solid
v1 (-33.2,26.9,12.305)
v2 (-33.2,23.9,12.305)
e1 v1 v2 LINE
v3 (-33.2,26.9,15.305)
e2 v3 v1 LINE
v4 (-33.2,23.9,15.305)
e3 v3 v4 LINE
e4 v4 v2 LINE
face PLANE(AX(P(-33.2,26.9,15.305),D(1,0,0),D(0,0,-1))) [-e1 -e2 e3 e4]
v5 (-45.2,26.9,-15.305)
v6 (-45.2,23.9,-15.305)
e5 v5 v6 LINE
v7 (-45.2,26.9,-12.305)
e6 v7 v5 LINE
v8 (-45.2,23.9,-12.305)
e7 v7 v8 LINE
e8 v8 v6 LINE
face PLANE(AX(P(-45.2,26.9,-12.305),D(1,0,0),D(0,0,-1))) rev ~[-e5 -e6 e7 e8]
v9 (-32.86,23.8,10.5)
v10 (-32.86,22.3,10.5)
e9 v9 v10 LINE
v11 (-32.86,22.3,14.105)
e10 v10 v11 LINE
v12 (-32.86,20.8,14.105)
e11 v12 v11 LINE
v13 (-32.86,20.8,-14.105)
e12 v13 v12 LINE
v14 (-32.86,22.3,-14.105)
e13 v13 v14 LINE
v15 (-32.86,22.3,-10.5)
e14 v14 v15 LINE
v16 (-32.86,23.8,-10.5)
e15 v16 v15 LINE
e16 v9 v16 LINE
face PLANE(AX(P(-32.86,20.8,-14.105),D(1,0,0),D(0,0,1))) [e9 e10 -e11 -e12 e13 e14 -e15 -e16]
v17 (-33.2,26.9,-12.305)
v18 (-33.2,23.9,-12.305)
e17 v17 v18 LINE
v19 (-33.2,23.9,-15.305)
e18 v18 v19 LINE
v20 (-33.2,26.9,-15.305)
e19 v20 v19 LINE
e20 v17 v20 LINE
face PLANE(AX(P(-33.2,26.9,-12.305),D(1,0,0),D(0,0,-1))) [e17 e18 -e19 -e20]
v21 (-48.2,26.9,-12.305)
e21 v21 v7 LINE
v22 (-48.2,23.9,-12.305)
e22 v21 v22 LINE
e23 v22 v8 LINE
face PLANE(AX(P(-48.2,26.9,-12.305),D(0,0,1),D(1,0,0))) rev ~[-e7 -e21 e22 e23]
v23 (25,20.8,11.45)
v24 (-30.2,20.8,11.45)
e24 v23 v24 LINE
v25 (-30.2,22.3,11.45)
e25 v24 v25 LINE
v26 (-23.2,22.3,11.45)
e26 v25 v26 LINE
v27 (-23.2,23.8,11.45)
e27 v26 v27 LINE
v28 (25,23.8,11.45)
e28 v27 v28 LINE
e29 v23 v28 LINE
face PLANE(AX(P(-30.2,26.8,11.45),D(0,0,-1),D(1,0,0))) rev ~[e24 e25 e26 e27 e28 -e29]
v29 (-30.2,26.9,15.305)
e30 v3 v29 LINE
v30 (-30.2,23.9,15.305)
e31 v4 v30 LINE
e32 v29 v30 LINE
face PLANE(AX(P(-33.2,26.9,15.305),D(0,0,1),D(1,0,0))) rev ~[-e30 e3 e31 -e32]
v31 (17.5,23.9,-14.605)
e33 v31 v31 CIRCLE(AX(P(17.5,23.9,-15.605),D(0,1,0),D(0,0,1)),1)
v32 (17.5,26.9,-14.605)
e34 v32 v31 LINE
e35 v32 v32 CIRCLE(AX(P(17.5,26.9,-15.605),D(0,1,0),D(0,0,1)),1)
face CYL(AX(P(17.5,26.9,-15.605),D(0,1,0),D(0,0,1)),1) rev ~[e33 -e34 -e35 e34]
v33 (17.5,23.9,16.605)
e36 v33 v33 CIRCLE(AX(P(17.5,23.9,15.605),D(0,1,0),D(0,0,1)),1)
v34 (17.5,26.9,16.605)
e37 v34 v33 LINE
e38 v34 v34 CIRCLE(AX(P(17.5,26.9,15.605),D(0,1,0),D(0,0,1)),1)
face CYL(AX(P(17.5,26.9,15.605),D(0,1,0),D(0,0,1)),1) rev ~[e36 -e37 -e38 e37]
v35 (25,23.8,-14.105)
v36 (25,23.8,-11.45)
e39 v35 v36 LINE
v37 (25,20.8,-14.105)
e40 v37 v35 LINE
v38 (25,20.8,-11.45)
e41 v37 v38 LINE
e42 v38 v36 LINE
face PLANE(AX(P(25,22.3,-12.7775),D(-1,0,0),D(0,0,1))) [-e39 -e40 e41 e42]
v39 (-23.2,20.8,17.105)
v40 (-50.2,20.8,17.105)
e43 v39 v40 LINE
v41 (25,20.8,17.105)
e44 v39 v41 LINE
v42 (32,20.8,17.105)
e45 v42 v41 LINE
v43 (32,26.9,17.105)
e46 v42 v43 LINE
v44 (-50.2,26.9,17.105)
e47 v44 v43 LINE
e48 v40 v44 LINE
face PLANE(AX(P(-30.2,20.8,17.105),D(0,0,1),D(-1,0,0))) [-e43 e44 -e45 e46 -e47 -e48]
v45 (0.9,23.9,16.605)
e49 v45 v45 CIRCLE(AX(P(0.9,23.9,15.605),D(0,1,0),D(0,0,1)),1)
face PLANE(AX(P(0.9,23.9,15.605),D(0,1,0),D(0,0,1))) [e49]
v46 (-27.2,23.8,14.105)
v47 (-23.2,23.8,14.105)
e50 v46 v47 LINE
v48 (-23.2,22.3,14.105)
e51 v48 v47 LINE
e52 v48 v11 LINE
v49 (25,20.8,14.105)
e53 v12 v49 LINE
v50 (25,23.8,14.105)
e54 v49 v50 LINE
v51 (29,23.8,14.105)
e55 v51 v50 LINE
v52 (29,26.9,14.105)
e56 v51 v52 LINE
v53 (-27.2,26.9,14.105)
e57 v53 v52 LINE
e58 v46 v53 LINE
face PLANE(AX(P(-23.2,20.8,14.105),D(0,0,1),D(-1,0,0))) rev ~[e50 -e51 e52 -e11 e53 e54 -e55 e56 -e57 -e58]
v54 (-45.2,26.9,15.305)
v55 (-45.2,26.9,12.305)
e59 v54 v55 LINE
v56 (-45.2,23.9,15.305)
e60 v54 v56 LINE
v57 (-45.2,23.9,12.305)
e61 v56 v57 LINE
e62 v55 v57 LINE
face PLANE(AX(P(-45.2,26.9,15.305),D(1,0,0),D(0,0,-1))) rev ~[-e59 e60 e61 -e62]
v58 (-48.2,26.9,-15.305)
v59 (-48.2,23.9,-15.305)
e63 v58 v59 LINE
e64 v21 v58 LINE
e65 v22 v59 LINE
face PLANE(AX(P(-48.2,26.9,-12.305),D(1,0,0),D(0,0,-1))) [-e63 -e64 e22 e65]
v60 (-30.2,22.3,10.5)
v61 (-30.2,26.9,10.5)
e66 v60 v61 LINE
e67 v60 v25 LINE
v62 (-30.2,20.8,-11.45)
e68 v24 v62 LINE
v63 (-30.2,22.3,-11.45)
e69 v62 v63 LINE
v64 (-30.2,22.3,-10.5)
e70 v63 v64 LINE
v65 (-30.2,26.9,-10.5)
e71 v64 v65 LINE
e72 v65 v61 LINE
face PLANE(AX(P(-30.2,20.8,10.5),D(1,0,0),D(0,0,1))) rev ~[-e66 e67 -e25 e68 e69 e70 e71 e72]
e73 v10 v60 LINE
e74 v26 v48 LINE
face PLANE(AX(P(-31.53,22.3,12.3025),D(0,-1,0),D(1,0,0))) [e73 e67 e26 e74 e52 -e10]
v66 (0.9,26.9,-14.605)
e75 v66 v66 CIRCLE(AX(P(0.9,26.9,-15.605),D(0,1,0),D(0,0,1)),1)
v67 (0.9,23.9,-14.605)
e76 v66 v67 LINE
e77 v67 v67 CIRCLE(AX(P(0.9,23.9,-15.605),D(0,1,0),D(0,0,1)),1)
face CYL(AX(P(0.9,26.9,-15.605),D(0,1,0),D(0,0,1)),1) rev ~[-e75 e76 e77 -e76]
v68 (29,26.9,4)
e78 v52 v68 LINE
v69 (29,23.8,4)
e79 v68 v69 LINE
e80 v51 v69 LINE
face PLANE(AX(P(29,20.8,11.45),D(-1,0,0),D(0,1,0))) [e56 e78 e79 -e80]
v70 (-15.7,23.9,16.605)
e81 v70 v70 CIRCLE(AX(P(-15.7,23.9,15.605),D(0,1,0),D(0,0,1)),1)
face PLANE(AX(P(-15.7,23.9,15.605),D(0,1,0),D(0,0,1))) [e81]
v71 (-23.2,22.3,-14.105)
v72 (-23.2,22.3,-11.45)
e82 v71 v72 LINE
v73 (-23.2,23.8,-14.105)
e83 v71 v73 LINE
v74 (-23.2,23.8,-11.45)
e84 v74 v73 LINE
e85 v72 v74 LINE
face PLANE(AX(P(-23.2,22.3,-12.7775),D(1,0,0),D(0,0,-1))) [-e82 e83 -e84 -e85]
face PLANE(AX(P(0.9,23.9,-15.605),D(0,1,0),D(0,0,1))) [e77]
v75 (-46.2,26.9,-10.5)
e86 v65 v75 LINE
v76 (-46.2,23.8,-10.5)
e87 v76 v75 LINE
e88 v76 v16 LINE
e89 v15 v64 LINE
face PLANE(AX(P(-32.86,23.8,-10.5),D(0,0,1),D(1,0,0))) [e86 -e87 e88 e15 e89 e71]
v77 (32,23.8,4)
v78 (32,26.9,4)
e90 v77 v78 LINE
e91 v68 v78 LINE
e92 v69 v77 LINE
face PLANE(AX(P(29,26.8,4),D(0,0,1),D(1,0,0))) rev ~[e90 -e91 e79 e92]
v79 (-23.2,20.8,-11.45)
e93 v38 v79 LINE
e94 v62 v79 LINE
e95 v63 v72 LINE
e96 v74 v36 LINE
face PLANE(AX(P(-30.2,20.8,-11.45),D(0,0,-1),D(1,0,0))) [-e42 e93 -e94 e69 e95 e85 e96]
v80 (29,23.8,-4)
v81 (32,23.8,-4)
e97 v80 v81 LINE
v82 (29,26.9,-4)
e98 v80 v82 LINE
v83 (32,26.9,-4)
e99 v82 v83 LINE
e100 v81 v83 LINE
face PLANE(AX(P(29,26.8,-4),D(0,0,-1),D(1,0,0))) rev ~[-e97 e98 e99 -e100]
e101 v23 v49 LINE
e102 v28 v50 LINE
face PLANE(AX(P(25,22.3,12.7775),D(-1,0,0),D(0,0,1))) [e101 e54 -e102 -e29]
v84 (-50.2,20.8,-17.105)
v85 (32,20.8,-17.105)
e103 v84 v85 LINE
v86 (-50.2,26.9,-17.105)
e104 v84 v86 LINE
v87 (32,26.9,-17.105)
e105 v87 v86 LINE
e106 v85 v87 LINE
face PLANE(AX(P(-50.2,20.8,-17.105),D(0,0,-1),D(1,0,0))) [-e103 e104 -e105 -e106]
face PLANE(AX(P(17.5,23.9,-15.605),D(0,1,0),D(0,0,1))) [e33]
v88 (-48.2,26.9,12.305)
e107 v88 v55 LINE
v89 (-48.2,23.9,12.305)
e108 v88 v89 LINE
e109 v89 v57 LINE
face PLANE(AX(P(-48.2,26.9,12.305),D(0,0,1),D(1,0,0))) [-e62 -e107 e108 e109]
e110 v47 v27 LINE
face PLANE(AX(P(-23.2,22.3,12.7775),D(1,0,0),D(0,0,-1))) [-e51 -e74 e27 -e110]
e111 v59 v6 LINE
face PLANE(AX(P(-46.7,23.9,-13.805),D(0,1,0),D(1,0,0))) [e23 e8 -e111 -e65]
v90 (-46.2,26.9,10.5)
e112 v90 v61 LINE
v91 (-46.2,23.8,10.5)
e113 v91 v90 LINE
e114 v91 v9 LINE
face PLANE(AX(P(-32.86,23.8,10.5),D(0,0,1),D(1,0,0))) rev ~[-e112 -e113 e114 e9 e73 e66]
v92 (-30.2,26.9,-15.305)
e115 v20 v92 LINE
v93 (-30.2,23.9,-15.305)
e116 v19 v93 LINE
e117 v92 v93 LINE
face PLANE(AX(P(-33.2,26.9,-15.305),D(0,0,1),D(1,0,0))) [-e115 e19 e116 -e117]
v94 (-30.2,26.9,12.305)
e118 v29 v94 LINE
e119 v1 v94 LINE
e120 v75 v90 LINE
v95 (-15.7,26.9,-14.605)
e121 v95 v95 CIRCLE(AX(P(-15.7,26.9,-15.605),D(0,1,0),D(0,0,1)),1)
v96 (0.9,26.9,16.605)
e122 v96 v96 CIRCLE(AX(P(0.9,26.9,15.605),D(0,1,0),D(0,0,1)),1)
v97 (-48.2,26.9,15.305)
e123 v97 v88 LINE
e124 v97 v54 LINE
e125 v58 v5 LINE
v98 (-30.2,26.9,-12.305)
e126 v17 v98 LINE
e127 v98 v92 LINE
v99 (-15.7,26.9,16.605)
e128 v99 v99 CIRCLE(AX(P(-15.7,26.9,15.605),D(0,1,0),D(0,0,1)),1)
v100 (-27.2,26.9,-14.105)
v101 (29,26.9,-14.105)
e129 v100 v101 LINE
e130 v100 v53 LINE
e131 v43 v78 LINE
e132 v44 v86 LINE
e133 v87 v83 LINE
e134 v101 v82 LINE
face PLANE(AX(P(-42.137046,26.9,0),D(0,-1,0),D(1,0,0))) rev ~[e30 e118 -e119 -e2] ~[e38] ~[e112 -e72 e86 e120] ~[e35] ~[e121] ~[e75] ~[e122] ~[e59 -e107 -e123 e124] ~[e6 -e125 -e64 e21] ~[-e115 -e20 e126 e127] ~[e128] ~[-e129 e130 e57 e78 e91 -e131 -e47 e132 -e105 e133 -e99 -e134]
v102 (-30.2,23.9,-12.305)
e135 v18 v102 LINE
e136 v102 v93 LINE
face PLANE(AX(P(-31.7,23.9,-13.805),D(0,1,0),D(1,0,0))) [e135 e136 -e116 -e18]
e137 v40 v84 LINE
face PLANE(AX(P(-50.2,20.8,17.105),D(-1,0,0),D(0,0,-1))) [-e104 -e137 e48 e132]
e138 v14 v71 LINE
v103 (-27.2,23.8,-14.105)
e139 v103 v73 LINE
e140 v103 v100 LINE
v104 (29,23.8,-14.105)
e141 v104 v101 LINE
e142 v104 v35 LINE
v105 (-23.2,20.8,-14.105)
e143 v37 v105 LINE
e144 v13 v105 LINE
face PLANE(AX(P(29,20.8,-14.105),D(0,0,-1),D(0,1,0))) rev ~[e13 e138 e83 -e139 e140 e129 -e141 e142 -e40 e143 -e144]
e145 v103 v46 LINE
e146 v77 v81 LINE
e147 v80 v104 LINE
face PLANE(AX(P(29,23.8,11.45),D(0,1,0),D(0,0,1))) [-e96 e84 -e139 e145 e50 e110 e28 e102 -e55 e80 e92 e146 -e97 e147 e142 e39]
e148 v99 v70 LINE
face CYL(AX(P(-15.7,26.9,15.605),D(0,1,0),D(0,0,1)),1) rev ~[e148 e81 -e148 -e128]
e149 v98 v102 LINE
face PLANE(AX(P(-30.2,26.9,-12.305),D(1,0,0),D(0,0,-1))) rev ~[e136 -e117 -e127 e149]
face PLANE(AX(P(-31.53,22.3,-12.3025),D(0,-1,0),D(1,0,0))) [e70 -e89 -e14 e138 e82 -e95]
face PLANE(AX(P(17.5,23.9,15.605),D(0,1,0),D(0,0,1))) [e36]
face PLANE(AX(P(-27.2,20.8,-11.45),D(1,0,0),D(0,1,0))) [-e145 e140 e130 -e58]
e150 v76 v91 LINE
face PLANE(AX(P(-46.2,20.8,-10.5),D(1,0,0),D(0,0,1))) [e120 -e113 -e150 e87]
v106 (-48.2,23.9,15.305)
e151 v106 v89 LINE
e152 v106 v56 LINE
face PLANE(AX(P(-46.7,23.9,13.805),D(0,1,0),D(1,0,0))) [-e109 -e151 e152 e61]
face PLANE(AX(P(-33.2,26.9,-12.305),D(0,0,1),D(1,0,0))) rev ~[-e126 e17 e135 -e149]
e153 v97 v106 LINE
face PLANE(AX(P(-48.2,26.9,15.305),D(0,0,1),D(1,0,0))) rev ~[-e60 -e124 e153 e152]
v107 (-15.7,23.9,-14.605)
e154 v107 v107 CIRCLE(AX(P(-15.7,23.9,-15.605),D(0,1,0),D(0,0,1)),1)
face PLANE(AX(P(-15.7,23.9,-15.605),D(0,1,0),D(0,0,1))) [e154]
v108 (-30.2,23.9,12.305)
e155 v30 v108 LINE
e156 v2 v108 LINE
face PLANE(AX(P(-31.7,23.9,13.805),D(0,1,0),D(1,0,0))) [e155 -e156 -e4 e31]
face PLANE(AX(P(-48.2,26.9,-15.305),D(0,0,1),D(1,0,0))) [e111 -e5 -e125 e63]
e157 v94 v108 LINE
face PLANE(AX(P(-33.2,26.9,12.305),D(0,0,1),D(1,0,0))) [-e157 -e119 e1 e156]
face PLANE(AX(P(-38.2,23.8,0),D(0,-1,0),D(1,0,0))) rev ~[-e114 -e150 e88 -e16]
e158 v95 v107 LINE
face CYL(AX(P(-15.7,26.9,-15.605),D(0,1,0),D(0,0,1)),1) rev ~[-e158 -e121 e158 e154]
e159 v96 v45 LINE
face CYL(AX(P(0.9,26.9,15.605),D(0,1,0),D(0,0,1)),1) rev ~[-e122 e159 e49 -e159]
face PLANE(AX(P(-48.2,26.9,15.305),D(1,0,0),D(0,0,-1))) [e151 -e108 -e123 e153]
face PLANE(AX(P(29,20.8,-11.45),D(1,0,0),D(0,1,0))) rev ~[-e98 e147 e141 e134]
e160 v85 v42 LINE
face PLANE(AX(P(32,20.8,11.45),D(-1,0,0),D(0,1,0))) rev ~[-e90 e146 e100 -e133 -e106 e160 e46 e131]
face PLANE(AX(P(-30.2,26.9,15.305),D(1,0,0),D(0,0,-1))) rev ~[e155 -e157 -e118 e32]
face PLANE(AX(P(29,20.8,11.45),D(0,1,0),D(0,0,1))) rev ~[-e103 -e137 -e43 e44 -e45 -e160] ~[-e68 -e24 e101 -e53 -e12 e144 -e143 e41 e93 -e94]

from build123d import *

# Parameters (mm, degrees)
SKETCH1_W            = 46.4
SKETCH1_H            = 24.75
BOSS_EXTRUDE1_DEPTH  = 5.9
BOSS_EXTRUDE2_DEPTH  = 2.5
SKETCH3_W            = 50
SKETCH3_H            = 50
BOSS_EXTRUDE3_DEPTH  = 2.5
SKETCH4_W            = 46.4
SKETCH4_H            = 0.93
BOSS_EXTRUDE4_DEPTH  = 5.9
SKETCH5_W            = 46.4
SKETCH5_H            = 0.93
BOSS_EXTRUDE5_DEPTH  = 5.9
SKETCH6_W            = 46.4
SKETCH6_H            = 3
BOSS_EXTRUDE6_DEPTH  = 8.4
SKETCH7_W            = 46.4
SKETCH7_H            = 3
BOSS_EXTRUDE7_DEPTH  = 8.4
SKETCH8_W            = 46.4
SKETCH8_H            = 22.9
BOSS_EXTRUDE8_DEPTH  = 8.4
SKETCH9_W            = 46.4
SKETCH9_H            = 3
BOSS_EXTRUDE9_DEPTH  = 8.4
SKETCH10_W           = 22.9
SKETCH10_H           = 10.9
BOSS_EXTRUDE10_DEPTH = 1.8
SKETCH11_W           = 0.93
SKETCH11_H           = 5.9
BOSS_EXTRUDE11_DEPTH = 1.8
SKETCH12_W           = 32.7
SKETCH12_H           = 0.925
SKETCH12_H_2         = 0.93
BOSS_EXTRUDE12_DEPTH = 8.4
SKETCH13_W           = 0.93
SKETCH13_H           = 5.9
BOSS_EXTRUDE13_DEPTH = 1.8
SKETCH14_W           = 48.2
SKETCH14_H           = 3
BOSS_EXTRUDE14_DEPTH = 8.4
SKETCH15_W           = 32.7
SKETCH15_H           = 0.93
SKETCH15_H_2         = 0.925
BOSS_EXTRUDE15_DEPTH = 8.4
SKETCH16_W           = 0.35
SKETCH16_H           = 5.9
CUT_EXTRUDE1_DEPTH   = 59.371568422
SKETCH18_W           = 0.35
SKETCH18_H           = 5.9
CUT_EXTRUDE2_DEPTH   = 59.371568422
SKETCH20_W           = 22.9
SKETCH20_H           = 2.5
BOSS_EXTRUDE17_DEPTH = 4
SKETCH22_W           = 22.9
SKETCH22_H           = 2.5
BOSS_EXTRUDE19_DEPTH = 3
SKETCH23_W           = 3
SKETCH23_H           = 22.9
BOSS_EXTRUDE20_DEPTH = 1.5
SKETCH24_W           = 22.9
SKETCH24_H           = 2.5
BOSS_EXTRUDE21_DEPTH = 7
SKETCH25_W           = 3
SKETCH25_H           = 22.9
BOSS_EXTRUDE22_DEPTH = 3
SKETCH27_W           = 48.2
SKETCH27_H           = 3
BOSS_EXTRUDE23_DEPTH = 7
SKETCH28_W           = 56.2
SKETCH28_H           = 22.9
BOSS_EXTRUDE24_DEPTH = 7
SKETCH29_W           = 3
SKETCH29_H           = 22.9
BOSS_EXTRUDE25_DEPTH = 7
SKETCH30_W           = 3
SKETCH30_H           = 22.9
BOSS_EXTRUDE26_DEPTH = 7
SKETCH31_W           = 7
SKETCH31_H           = 6.5
CUT_EXTRUDE3_DEPTH   = 56.415182938
SKETCH32_W           = 7
SKETCH32_H           = 6.5
CUT_EXTRUDE4_DEPTH   = 56.415182938
SKETCH33_W           = 2.66
SKETCH33_H           = 2.66
CUT_EXTRUDE5_DEPTH   = 67.259188042
SKETCH34_W           = 2.66
SKETCH34_H           = 2.66
CUT_EXTRUDE6_DEPTH   = 67.259188042
SKETCH35_W           = 3
SKETCH35_H           = 8
CUT_EXTRUDE7_DEPTH   = 3
SKETCH36_W           = 3
SKETCH36_H           = 22.9
BOSS_EXTRUDE27_DEPTH = 1.5
SKETCH38_W           = 48.2
SKETCH38_H           = 3
BOSS_EXTRUDE28_DEPTH = 3.1
SKETCH39_W           = 48.2
SKETCH39_H           = 3
BOSS_EXTRUDE29_DEPTH = 3.1
SKETCH40_W           = 3
SKETCH40_H           = 7.45
BOSS_EXTRUDE30_DEPTH = 0.1
SKETCH41_W           = 3
SKETCH41_H           = 22.9
BOSS_EXTRUDE31_DEPTH = 0.1
SKETCH43_W           = 3
SKETCH43_H           = 6.1
BOSS_EXTRUDE32_DEPTH = 5.655
SKETCH44_W           = 3
SKETCH44_H           = 6.1
BOSS_EXTRUDE33_DEPTH = 4
SKETCH45_W           = 3
SKETCH45_H           = 6.1
BOSS_EXTRUDE34_DEPTH = 5.655
SKETCH46_W           = 3
SKETCH46_H           = 6.1
BOSS_EXTRUDE35_DEPTH = 4
SKETCH47_W           = 3
SKETCH47_H           = 6.1
BOSS_EXTRUDE36_DEPTH = 5.655
SKETCH48_W           = 3
SKETCH48_H           = 6.1
BOSS_EXTRUDE37_DEPTH = 4
SKETCH49_W           = 3
SKETCH49_H           = 6.1
BOSS_EXTRUDE38_DEPTH = 5.655
SKETCH50_W           = 3
SKETCH50_H           = 6.1
BOSS_EXTRUDE39_DEPTH = 4
SKETCH51_W           = 34.21
SKETCH51_H           = 30.544600681
CUT_EXTRUDE9_DEPTH   = 67.29969834
SKETCH52_W           = 63.173752843
SKETCH52_H           = 8.017793163
CUT_EXTRUDE10_DEPTH  = 67.29969834
BOSS_EXTRUDE40_DEPTH = 6.1
SKETCH55_W           = 16
SKETCH55_H           = 21
BOSS_EXTRUDE41_DEPTH = 3
SKETCH56_W           = 2.66
SKETCH56_H           = 21
CUT_EXTRUDE11_DEPTH  = 54.124674352
SKETCH59_W           = 2.655
SKETCH59_H           = 3
BOSS_EXTRUDE44_DEPTH = 4
SKETCH60_W           = 2.655
SKETCH60_H           = 3
BOSS_EXTRUDE45_DEPTH = 4
SKETCH61_W           = 2.655
SKETCH61_H           = 3
BOSS_EXTRUDE46_DEPTH = 4
SKETCH62_W           = 2.655
SKETCH62_H           = 3
BOSS_EXTRUDE47_DEPTH = 4
SKETCH64_W           = 3
SKETCH64_H           = 3
CUT_EXTRUDE12_DEPTH  = 3
SKETCH42_R           = 1
CUT_EXTRUDE13_DEPTH  = 3
SKETCH65_W           = 2.66
SKETCH65_H           = 3.605
SKETCH65_W_2         = 7
SKETCH65_H_2         = 2.655
CUT_EXTRUDE14_DEPTH  = 1.5


with BuildPart() as part:
    # Sketch1 → Boss-Extrude1 (new body)
    with BuildSketch(Plane(origin=(0, 0, 0), x_dir=(1, 0, 0), z_dir=(0, 1, 0))):
        Rectangle(SKETCH1_W, SKETCH1_H)
    extrude(amount=BOSS_EXTRUDE1_DEPTH)

    # Sketch2 → Boss-Extrude2 (add)
    with BuildSketch(Plane(origin=(0, 5.9, 0), x_dir=(1, 0, 0), z_dir=(0, 1, 0))):
        Polygon((23.2, -11.45), (23.2, 0), (23.2, 11.45), (-23.2, 11.45), (-23.2, -11.45), align=None)
    extrude(amount=BOSS_EXTRUDE2_DEPTH)

    # Sketch3 → Boss-Extrude3 (add)
    with BuildSketch(Plane.XZ):
        Rectangle(SKETCH3_W, SKETCH3_H)
    extrude(amount=BOSS_EXTRUDE3_DEPTH)

    # Sketch4 → Boss-Extrude4 (add)
    with BuildSketch(Plane(origin=(0, 0, 0), x_dir=(1, 0, 0), z_dir=(0, 1, 0))):
        with Locations((0, 13.64)):
            Rectangle(SKETCH4_W, SKETCH4_H)
    extrude(amount=BOSS_EXTRUDE4_DEPTH)

    # Sketch5 → Boss-Extrude5 (add)
    with BuildSketch(Plane(origin=(0, 0, 0), x_dir=(1, 0, 0), z_dir=(0, 1, 0))):
        with Locations((0, -13.64)):
            Rectangle(SKETCH5_W, SKETCH5_H)
    extrude(amount=BOSS_EXTRUDE5_DEPTH)

    # Sketch6 → Boss-Extrude6 (add)
    with BuildSketch(Plane(origin=(0, 0, 0), x_dir=(1, 0, 0), z_dir=(0, 1, 0))):
        with Locations((0, 15.605)):
            Rectangle(SKETCH6_W, SKETCH6_H)
    extrude(amount=BOSS_EXTRUDE6_DEPTH)

    # Sketch7 → Boss-Extrude7 (add)
    with BuildSketch(Plane(origin=(0, 0, 0), x_dir=(1, 0, 0), z_dir=(0, 1, 0))):
        with Locations((0, -15.605)):
            Rectangle(SKETCH7_W, SKETCH7_H)
    extrude(amount=BOSS_EXTRUDE7_DEPTH)

    # Sketch8 → Boss-Extrude8 (add)
    with BuildSketch(Plane(origin=(0, 8.4, 0), x_dir=(1, 0, 0), z_dir=(0, 1, 0))):
        Rectangle(SKETCH8_W, SKETCH8_H)
    extrude(amount=BOSS_EXTRUDE8_DEPTH)

    # Sketch9 → Boss-Extrude9 (add)
    with BuildSketch(Plane(origin=(0, 8.4, 0), x_dir=(1, 0, 0), z_dir=(0, 1, 0))):
        with Locations((0, -15.605)):
            Rectangle(SKETCH9_W, SKETCH9_H)
    extrude(amount=BOSS_EXTRUDE9_DEPTH)

    # Sketch10 → Boss-Extrude10 (add)
    with BuildSketch(Plane(origin=(23.2, 0, 0), x_dir=(0, 0, -1), z_dir=(1, 0, 0))):
        with Locations((0, 11.35)):
            Rectangle(SKETCH10_W, SKETCH10_H)
        Polygon((-11.45, 5.9), (11.45, 5.9), (12.375, 5.9), (12.375, 0), (-12.375, 0), (-12.375, 5.9), align=None)
    extrude(amount=BOSS_EXTRUDE10_DEPTH)

    # Sketch11 → Boss-Extrude11 (add)
    with BuildSketch(Plane(origin=(23.2, 0, 0), x_dir=(0, 0, -1), z_dir=(1, 0, 0))):
        Polygon((-14.105, 16.8), (-17.105, 16.8), (-17.105, 0), (-14.105, 0), (-14.105, 5.9), align=None)
        with Locations((-13.64, 2.95)):
            Rectangle(SKETCH11_W, SKETCH11_H)
    extrude(amount=BOSS_EXTRUDE11_DEPTH)

    # Sketch12 → Boss-Extrude12 (add)
    with BuildSketch(Plane(origin=(0, 5.9, 0), x_dir=(1, 0, 0), z_dir=(0, 1, 0))):
        with Locations((-6.85, -11.9125)):
            Rectangle(SKETCH12_W, SKETCH12_H)
        with Locations((-6.85, -13.64)):
            Rectangle(SKETCH12_W, SKETCH12_H_2)
    extrude(amount=BOSS_EXTRUDE12_DEPTH)

    # Sketch13 → Boss-Extrude13 (add)
    with BuildSketch(Plane(origin=(23.2, 0, 0), x_dir=(0, 0, -1), z_dir=(1, 0, 0))):
        Polygon((17.105, 0), (17.105, 8.4), (14.105, 8.4), (14.105, 5.9), (14.105, 0), align=None)
        with Locations((13.64, 2.95)):
            Rectangle(SKETCH13_W, SKETCH13_H)
    extrude(amount=BOSS_EXTRUDE13_DEPTH)

    # Sketch14 → Boss-Extrude14 (add)
    with BuildSketch(Plane(origin=(0, 8.4, 0), x_dir=(1, 0, 0), z_dir=(0, 1, 0))):
        with Locations((0.9, 15.605)):
            Rectangle(SKETCH14_W, SKETCH14_H)
    extrude(amount=BOSS_EXTRUDE14_DEPTH)

    # Sketch15 → Boss-Extrude15 (add)
    with BuildSketch(Plane(origin=(0, 5.9, 0), x_dir=(1, 0, 0), z_dir=(0, 1, 0))):
        with Locations((8.65, 13.64)):
            Rectangle(SKETCH15_W, SKETCH15_H)
        with Locations((8.65, 11.9125)):
            Rectangle(SKETCH15_W, SKETCH15_H_2)
    extrude(amount=BOSS_EXTRUDE15_DEPTH)

    # Sketch16 → Cut-Extrude1 (cut, through all)
    with BuildSketch(Plane(origin=(25, 0, 0), x_dir=(0, 0, -1), z_dir=(1, 0, 0))):
        with Locations((-12.2, 2.95)):
            Rectangle(SKETCH16_W, SKETCH16_H)
        with Locations((-13.35, 2.95)):
            Rectangle(SKETCH16_W, SKETCH16_H)
    extrude(amount=-CUT_EXTRUDE1_DEPTH, mode=Mode.SUBTRACT)

    # Sketch18 → Cut-Extrude2 (cut, through all)
    with BuildSketch(Plane(origin=(25, 0, 0), x_dir=(0, 0, -1), z_dir=(1, 0, 0))):
        with Locations((12.2, 2.95)):
            Rectangle(SKETCH18_W, SKETCH18_H)
        with Locations((13.35, 2.95)):
            Rectangle(SKETCH18_W, SKETCH18_H)
    extrude(amount=-CUT_EXTRUDE2_DEPTH, mode=Mode.SUBTRACT)

    # Sketch20 → Boss-Extrude17 (add)
    with BuildSketch(Plane.ZY.offset(23.2)):
        with Locations((0, 15.55)):
            Rectangle(SKETCH20_W, SKETCH20_H)
    extrude(amount=BOSS_EXTRUDE17_DEPTH)

    # Sketch22 → Boss-Extrude19 (add)
    with BuildSketch(Plane.ZY.offset(27.2)):
        with Locations((0, 15.55)):
            Rectangle(SKETCH22_W, SKETCH22_H)
    extrude(amount=BOSS_EXTRUDE19_DEPTH)

    # Sketch23 → Boss-Extrude20 (add)
    with BuildSketch(Plane(origin=(0, 16.8, 0), x_dir=(1, 0, 0), z_dir=(0, 1, 0))):
        with Locations((-28.7, 0)):
            Rectangle(SKETCH23_W, SKETCH23_H)
    extrude(amount=BOSS_EXTRUDE20_DEPTH)

    # Sketch24 → Boss-Extrude21 (add)
    with BuildSketch(Plane(origin=(25, 0, 0), x_dir=(0, 0, -1), z_dir=(1, 0, 0))):
        with Locations((0, 15.55)):
            Rectangle(SKETCH24_W, SKETCH24_H)
    extrude(amount=BOSS_EXTRUDE21_DEPTH)

    # Sketch25 → Boss-Extrude22 (add)
    with BuildSketch(Plane(origin=(0, 16.8, 0), x_dir=(1, 0, 0), z_dir=(0, 1, 0))):
        with Locations((30.5, 0)):
            Rectangle(SKETCH25_W, SKETCH25_H)
    extrude(amount=BOSS_EXTRUDE22_DEPTH)

    # Sketch27 → Boss-Extrude23 (add)
    with BuildSketch(Plane(origin=(0, 16.8, 0), x_dir=(1, 0, 0), z_dir=(0, 1, 0))):
        with Locations((0.9, 15.605)):
            Rectangle(SKETCH27_W, SKETCH27_H)
        with Locations((0.9, -15.605)):
            Rectangle(SKETCH27_W, SKETCH27_H)
    extrude(amount=BOSS_EXTRUDE23_DEPTH)

    # Sketch28 → Boss-Extrude24 (add)
    with BuildSketch(Plane(origin=(0, 16.8, 0), x_dir=(1, 0, 0), z_dir=(0, 1, 0))):
        with Locations((0.9, 0)):
            Rectangle(SKETCH28_W, SKETCH28_H)
    extrude(amount=BOSS_EXTRUDE24_DEPTH)

    # Sketch29 → Boss-Extrude25 (add)
    with BuildSketch(Plane(origin=(0, 18.3, 0), x_dir=(1, 0, 0), z_dir=(0, 1, 0))):
        with Locations((-28.7, 0)):
            Rectangle(SKETCH29_W, SKETCH29_H)
    extrude(amount=BOSS_EXTRUDE25_DEPTH)

    # Sketch30 → Boss-Extrude26 (add)
    with BuildSketch(Plane(origin=(0, 19.8, 0), x_dir=(1, 0, 0), z_dir=(0, 1, 0))):
        with Locations((30.5, 0)):
            Rectangle(SKETCH30_W, SKETCH30_H)
    extrude(amount=BOSS_EXTRUDE26_DEPTH)

    # Sketch31 → Cut-Extrude3 (cut, through all)
    with BuildSketch(Plane(origin=(0, 0, -11.45), x_dir=(-1, 0, 0), z_dir=(0, 0, -1))):
        with Locations((26.7, 17.55)):
            Rectangle(SKETCH31_W, SKETCH31_H)
    extrude(amount=-CUT_EXTRUDE3_DEPTH, mode=Mode.SUBTRACT)

    # Sketch32 → Cut-Extrude4 (cut, through all)
    with BuildSketch(Plane.XY.offset(11.45)):
        with Locations((28.5, 17.55)):
            Rectangle(SKETCH32_W, SKETCH32_H)
    extrude(amount=-CUT_EXTRUDE4_DEPTH, mode=Mode.SUBTRACT)

    # Sketch33 → Cut-Extrude5 (cut, through all)
    with BuildSketch(Plane.ZY.offset(23.2)):
        with Locations((-12.775, 1.33)):
            Rectangle(SKETCH33_W, SKETCH33_H)
    extrude(amount=-CUT_EXTRUDE5_DEPTH, mode=Mode.SUBTRACT)

    # Sketch34 → Cut-Extrude6 (cut, through all)
    with BuildSketch(Plane.ZY.offset(23.2)):
        with Locations((12.775, 1.33)):
            Rectangle(SKETCH34_W, SKETCH34_H)
    extrude(amount=-CUT_EXTRUDE6_DEPTH, mode=Mode.SUBTRACT)

    # Sketch35 → Cut-Extrude7 (cut)
    with BuildSketch(Plane(origin=(0, 26.8, 0), x_dir=(1, 0, 0), z_dir=(0, 1, 0))):
        with Locations((30.5, 0)):
            Rectangle(SKETCH35_W, SKETCH35_H)
    extrude(amount=-CUT_EXTRUDE7_DEPTH, mode=Mode.SUBTRACT)

    # Sketch36 → Boss-Extrude27 (add)
    with BuildSketch(Plane(origin=(0, 25.3, 0), x_dir=(1, 0, 0), z_dir=(0, 1, 0))):
        with Locations((-28.7, 0)):
            Rectangle(SKETCH36_W, SKETCH36_H)
    extrude(amount=BOSS_EXTRUDE27_DEPTH)

    # Sketch38 → Boss-Extrude28 (add)
    with BuildSketch(Plane(origin=(0, 23.8, 0), x_dir=(1, 0, 0), z_dir=(0, 1, 0))):
        with Locations((0.9, -15.605)):
            Rectangle(SKETCH38_W, SKETCH38_H)
    extrude(amount=BOSS_EXTRUDE28_DEPTH)

    # Sketch39 → Boss-Extrude29 (add)
    with BuildSketch(Plane(origin=(0, 23.8, 0), x_dir=(1, 0, 0), z_dir=(0, 1, 0))):
        with Locations((0.9, 15.605)):
            Rectangle(SKETCH39_W, SKETCH39_H)
    extrude(amount=BOSS_EXTRUDE29_DEPTH)

    # Sketch40 → Boss-Extrude30 (add)
    with BuildSketch(Plane(origin=(0, 26.8, 0), x_dir=(1, 0, 0), z_dir=(0, 1, 0))):
        with Locations((30.5, 7.725)):
            Rectangle(SKETCH40_W, SKETCH40_H)
        with Locations((30.5, -7.725)):
            Rectangle(SKETCH40_W, SKETCH40_H)
    extrude(amount=BOSS_EXTRUDE30_DEPTH)

    # Sketch41 → Boss-Extrude31 (add)
    with BuildSketch(Plane(origin=(0, 26.8, 0), x_dir=(1, 0, 0), z_dir=(0, 1, 0))):
        with Locations((-28.7, 0)):
            Rectangle(SKETCH41_W, SKETCH41_H)
    extrude(amount=BOSS_EXTRUDE31_DEPTH)

    # Sketch43 → Boss-Extrude32 (add)
    with BuildSketch(Plane.XY.offset(11.45)):
        with Locations((-28.7, 23.85)):
            Rectangle(SKETCH43_W, SKETCH43_H)
    extrude(amount=BOSS_EXTRUDE32_DEPTH)

    # Sketch44 → Boss-Extrude33 (add)
    with BuildSketch(Plane(origin=(-27.2, 0, 0), x_dir=(0, 0, -1), z_dir=(1, 0, 0))):
        with Locations((-15.605, 23.85)):
            Rectangle(SKETCH44_W, SKETCH44_H)
    extrude(amount=BOSS_EXTRUDE33_DEPTH)

    # Sketch45 → Boss-Extrude34 (add)
    with BuildSketch(Plane(origin=(0, 0, -11.45), x_dir=(-1, 0, 0), z_dir=(0, 0, -1))):
        with Locations((28.7, 23.85)):
            Rectangle(SKETCH45_W, SKETCH45_H)
    extrude(amount=BOSS_EXTRUDE34_DEPTH)

    # Sketch46 → Boss-Extrude35 (add)
    with BuildSketch(Plane(origin=(-27.2, 0, 0), x_dir=(0, 0, -1), z_dir=(1, 0, 0))):
        with Locations((15.605, 23.85)):
            Rectangle(SKETCH46_W, SKETCH46_H)
    extrude(amount=BOSS_EXTRUDE35_DEPTH)

    # Sketch47 → Boss-Extrude36 (add)
    with BuildSketch(Plane(origin=(0, 0, -11.45), x_dir=(-1, 0, 0), z_dir=(0, 0, -1))):
        with Locations((-30.5, 23.85)):
            Rectangle(SKETCH47_W, SKETCH47_H)
    extrude(amount=BOSS_EXTRUDE36_DEPTH)

    # Sketch48 → Boss-Extrude37 (add)
    with BuildSketch(Plane.ZY.offset(-29)):
        with Locations((-15.605, 23.85)):
            Rectangle(SKETCH48_W, SKETCH48_H)
    extrude(amount=BOSS_EXTRUDE37_DEPTH)

    # Sketch49 → Boss-Extrude38 (add)
    with BuildSketch(Plane.XY.offset(11.45)):
        with Locations((30.5, 23.85)):
            Rectangle(SKETCH49_W, SKETCH49_H)
    extrude(amount=BOSS_EXTRUDE38_DEPTH)

    # Sketch50 → Boss-Extrude39 (add)
    with BuildSketch(Plane.ZY.offset(-29)):
        with Locations((15.605, 23.85)):
            Rectangle(SKETCH50_W, SKETCH50_H)
    extrude(amount=BOSS_EXTRUDE39_DEPTH)

    # Sketch51 → Cut-Extrude9 (cut, through all)
    with BuildSketch(Plane.ZY.offset(23.2)):
        with Locations((0, 5.527699659)):
            Rectangle(SKETCH51_W, SKETCH51_H)
    extrude(amount=-CUT_EXTRUDE9_DEPTH, mode=Mode.SUBTRACT)


with BuildPart() as cut_extrude9_piece_1:
    # of the separate pieces the step leaves, piece 1, a body of its own (cut_extrude9_pieces)
    add(part.part.solids().sort_by_distance((32, 20.8, 17.105))[0])

    # Sketch54 → Boss-Extrude40 (add)
    with BuildSketch(Plane.XZ.offset(-20.8)):
        Polygon((-46.2, 10.5), (-30.2, 10.5), (-30.2, 17.105), (-50.2, 17.105), (-50.2, -17.105), (-30.2, -17.105), (-30.2, -10.5), (-46.2, -10.5), align=None)
    extrude(amount=-BOSS_EXTRUDE40_DEPTH)

    # Sketch55 → Boss-Extrude41 (add)
    with BuildSketch(Plane.XZ.offset(-20.8)):
        with Locations((-38.2, 0)):
            Rectangle(SKETCH55_W, SKETCH55_H)
    extrude(amount=-BOSS_EXTRUDE41_DEPTH)

    # Sketch56 → Cut-Extrude11 (cut, through all)
    with BuildSketch(Plane(origin=(0, 23.8, 0), x_dir=(1, 0, 0), z_dir=(0, 1, 0))):
        with Locations((-31.53, 0)):
            Rectangle(SKETCH56_W, SKETCH56_H)
    extrude(amount=-CUT_EXTRUDE11_DEPTH, mode=Mode.SUBTRACT)

    # Sketch59 → Boss-Extrude44 (add)
    with BuildSketch(Plane(origin=(-27.2, 0, 0), x_dir=(0, 0, -1), z_dir=(1, 0, 0))):
        with Locations((12.7775, 22.3)):
            Rectangle(SKETCH59_W, SKETCH59_H)
    extrude(amount=BOSS_EXTRUDE44_DEPTH)

    # Sketch60 → Boss-Extrude45 (add)
    with BuildSketch(Plane(origin=(-27.2, 0, 0), x_dir=(0, 0, -1), z_dir=(1, 0, 0))):
        with Locations((-12.7775, 22.3)):
            Rectangle(SKETCH60_W, SKETCH60_H)
    extrude(amount=BOSS_EXTRUDE45_DEPTH)

    # Sketch61 → Boss-Extrude46 (add)
    with BuildSketch(Plane.ZY.offset(-29)):
        with Locations((-12.7775, 22.3)):
            Rectangle(SKETCH61_W, SKETCH61_H)
    extrude(amount=BOSS_EXTRUDE46_DEPTH)

    # Sketch62 → Boss-Extrude47 (add)
    with BuildSketch(Plane.ZY.offset(-29)):
        with Locations((12.7775, 22.3)):
            Rectangle(SKETCH62_W, SKETCH62_H)
    extrude(amount=BOSS_EXTRUDE47_DEPTH)

    # Sketch64 → Cut-Extrude12 (cut)
    with BuildSketch(Plane(origin=(0, 26.9, 0), x_dir=(1, 0, 0), z_dir=(0, 1, 0))):
        with Locations((-46.7, 13.805)):
            Rectangle(SKETCH64_W, SKETCH64_H)
        with Locations((-46.7, -13.805)):
            Rectangle(SKETCH64_W, SKETCH64_H)
        with Locations((-31.7, 13.805)):
            Rectangle(SKETCH64_W, SKETCH64_H)
        with Locations((-31.7, -13.805)):
            Rectangle(SKETCH64_W, SKETCH64_H)
    extrude(amount=-CUT_EXTRUDE12_DEPTH, mode=Mode.SUBTRACT)

    # Sketch42 → Cut-Extrude13 (cut)
    with BuildSketch(Plane(origin=(0, 26.9, 0), x_dir=(1, 0, 0), z_dir=(0, 1, 0))):
        with Locations(Location((-15.7, -15.605, 0), (0, 0, 270))):
            Circle(SKETCH42_R)
        with Locations(Location((-15.7, 15.605, 0), (0, 0, 270))):
            Circle(SKETCH42_R)
        with Locations(Location((17.5, -15.605, 0), (0, 0, 270))):
            Circle(SKETCH42_R)
        with Locations(Location((17.5, 15.605, 0), (0, 0, 270))):
            Circle(SKETCH42_R)
        with Locations(Location((0.9, -15.605, 0), (0, 0, 270))):
            Circle(SKETCH42_R)
        with Locations(Location((0.9, 15.605, 0), (0, 0, 270))):
            Circle(SKETCH42_R)
    extrude(amount=-CUT_EXTRUDE13_DEPTH, mode=Mode.SUBTRACT)

    # Sketch65 → Cut-Extrude14 (cut)
    with BuildSketch(Plane.XZ.offset(-20.8)):
        with Locations((-31.53, 12.3025)):
            Rectangle(SKETCH65_W, SKETCH65_H)
        with Locations((-26.7, 12.7775)):
            Rectangle(SKETCH65_W_2, SKETCH65_H_2)
        with Locations((-31.53, -12.3025)):
            Rectangle(SKETCH65_W, SKETCH65_H)
        with Locations((-26.7, -12.7775)):
            Rectangle(SKETCH65_W_2, SKETCH65_H_2)
    extrude(amount=-CUT_EXTRUDE14_DEPTH, mode=Mode.SUBTRACT)


with BuildPart() as cut_extrude9_piece_2:
    # of the separate pieces the step leaves, piece 2, a body of its own (cut_extrude9_pieces)
    add(part.part.solids().sort_by_distance((-25, 0, 25))[0])

    # Sketch52 → Cut-Extrude10 (cut, through all)
    with BuildSketch(Plane(origin=(25, 0, 0), x_dir=(0, 0, -1), z_dir=(1, 0, 0))):
        with Locations((0.957814421, 0.092594216)):
            Rectangle(SKETCH52_W, SKETCH52_H)
    extrude(amount=-CUT_EXTRUDE10_DEPTH, mode=Mode.SUBTRACT)


solid = cut_extrude9_piece_1.part
